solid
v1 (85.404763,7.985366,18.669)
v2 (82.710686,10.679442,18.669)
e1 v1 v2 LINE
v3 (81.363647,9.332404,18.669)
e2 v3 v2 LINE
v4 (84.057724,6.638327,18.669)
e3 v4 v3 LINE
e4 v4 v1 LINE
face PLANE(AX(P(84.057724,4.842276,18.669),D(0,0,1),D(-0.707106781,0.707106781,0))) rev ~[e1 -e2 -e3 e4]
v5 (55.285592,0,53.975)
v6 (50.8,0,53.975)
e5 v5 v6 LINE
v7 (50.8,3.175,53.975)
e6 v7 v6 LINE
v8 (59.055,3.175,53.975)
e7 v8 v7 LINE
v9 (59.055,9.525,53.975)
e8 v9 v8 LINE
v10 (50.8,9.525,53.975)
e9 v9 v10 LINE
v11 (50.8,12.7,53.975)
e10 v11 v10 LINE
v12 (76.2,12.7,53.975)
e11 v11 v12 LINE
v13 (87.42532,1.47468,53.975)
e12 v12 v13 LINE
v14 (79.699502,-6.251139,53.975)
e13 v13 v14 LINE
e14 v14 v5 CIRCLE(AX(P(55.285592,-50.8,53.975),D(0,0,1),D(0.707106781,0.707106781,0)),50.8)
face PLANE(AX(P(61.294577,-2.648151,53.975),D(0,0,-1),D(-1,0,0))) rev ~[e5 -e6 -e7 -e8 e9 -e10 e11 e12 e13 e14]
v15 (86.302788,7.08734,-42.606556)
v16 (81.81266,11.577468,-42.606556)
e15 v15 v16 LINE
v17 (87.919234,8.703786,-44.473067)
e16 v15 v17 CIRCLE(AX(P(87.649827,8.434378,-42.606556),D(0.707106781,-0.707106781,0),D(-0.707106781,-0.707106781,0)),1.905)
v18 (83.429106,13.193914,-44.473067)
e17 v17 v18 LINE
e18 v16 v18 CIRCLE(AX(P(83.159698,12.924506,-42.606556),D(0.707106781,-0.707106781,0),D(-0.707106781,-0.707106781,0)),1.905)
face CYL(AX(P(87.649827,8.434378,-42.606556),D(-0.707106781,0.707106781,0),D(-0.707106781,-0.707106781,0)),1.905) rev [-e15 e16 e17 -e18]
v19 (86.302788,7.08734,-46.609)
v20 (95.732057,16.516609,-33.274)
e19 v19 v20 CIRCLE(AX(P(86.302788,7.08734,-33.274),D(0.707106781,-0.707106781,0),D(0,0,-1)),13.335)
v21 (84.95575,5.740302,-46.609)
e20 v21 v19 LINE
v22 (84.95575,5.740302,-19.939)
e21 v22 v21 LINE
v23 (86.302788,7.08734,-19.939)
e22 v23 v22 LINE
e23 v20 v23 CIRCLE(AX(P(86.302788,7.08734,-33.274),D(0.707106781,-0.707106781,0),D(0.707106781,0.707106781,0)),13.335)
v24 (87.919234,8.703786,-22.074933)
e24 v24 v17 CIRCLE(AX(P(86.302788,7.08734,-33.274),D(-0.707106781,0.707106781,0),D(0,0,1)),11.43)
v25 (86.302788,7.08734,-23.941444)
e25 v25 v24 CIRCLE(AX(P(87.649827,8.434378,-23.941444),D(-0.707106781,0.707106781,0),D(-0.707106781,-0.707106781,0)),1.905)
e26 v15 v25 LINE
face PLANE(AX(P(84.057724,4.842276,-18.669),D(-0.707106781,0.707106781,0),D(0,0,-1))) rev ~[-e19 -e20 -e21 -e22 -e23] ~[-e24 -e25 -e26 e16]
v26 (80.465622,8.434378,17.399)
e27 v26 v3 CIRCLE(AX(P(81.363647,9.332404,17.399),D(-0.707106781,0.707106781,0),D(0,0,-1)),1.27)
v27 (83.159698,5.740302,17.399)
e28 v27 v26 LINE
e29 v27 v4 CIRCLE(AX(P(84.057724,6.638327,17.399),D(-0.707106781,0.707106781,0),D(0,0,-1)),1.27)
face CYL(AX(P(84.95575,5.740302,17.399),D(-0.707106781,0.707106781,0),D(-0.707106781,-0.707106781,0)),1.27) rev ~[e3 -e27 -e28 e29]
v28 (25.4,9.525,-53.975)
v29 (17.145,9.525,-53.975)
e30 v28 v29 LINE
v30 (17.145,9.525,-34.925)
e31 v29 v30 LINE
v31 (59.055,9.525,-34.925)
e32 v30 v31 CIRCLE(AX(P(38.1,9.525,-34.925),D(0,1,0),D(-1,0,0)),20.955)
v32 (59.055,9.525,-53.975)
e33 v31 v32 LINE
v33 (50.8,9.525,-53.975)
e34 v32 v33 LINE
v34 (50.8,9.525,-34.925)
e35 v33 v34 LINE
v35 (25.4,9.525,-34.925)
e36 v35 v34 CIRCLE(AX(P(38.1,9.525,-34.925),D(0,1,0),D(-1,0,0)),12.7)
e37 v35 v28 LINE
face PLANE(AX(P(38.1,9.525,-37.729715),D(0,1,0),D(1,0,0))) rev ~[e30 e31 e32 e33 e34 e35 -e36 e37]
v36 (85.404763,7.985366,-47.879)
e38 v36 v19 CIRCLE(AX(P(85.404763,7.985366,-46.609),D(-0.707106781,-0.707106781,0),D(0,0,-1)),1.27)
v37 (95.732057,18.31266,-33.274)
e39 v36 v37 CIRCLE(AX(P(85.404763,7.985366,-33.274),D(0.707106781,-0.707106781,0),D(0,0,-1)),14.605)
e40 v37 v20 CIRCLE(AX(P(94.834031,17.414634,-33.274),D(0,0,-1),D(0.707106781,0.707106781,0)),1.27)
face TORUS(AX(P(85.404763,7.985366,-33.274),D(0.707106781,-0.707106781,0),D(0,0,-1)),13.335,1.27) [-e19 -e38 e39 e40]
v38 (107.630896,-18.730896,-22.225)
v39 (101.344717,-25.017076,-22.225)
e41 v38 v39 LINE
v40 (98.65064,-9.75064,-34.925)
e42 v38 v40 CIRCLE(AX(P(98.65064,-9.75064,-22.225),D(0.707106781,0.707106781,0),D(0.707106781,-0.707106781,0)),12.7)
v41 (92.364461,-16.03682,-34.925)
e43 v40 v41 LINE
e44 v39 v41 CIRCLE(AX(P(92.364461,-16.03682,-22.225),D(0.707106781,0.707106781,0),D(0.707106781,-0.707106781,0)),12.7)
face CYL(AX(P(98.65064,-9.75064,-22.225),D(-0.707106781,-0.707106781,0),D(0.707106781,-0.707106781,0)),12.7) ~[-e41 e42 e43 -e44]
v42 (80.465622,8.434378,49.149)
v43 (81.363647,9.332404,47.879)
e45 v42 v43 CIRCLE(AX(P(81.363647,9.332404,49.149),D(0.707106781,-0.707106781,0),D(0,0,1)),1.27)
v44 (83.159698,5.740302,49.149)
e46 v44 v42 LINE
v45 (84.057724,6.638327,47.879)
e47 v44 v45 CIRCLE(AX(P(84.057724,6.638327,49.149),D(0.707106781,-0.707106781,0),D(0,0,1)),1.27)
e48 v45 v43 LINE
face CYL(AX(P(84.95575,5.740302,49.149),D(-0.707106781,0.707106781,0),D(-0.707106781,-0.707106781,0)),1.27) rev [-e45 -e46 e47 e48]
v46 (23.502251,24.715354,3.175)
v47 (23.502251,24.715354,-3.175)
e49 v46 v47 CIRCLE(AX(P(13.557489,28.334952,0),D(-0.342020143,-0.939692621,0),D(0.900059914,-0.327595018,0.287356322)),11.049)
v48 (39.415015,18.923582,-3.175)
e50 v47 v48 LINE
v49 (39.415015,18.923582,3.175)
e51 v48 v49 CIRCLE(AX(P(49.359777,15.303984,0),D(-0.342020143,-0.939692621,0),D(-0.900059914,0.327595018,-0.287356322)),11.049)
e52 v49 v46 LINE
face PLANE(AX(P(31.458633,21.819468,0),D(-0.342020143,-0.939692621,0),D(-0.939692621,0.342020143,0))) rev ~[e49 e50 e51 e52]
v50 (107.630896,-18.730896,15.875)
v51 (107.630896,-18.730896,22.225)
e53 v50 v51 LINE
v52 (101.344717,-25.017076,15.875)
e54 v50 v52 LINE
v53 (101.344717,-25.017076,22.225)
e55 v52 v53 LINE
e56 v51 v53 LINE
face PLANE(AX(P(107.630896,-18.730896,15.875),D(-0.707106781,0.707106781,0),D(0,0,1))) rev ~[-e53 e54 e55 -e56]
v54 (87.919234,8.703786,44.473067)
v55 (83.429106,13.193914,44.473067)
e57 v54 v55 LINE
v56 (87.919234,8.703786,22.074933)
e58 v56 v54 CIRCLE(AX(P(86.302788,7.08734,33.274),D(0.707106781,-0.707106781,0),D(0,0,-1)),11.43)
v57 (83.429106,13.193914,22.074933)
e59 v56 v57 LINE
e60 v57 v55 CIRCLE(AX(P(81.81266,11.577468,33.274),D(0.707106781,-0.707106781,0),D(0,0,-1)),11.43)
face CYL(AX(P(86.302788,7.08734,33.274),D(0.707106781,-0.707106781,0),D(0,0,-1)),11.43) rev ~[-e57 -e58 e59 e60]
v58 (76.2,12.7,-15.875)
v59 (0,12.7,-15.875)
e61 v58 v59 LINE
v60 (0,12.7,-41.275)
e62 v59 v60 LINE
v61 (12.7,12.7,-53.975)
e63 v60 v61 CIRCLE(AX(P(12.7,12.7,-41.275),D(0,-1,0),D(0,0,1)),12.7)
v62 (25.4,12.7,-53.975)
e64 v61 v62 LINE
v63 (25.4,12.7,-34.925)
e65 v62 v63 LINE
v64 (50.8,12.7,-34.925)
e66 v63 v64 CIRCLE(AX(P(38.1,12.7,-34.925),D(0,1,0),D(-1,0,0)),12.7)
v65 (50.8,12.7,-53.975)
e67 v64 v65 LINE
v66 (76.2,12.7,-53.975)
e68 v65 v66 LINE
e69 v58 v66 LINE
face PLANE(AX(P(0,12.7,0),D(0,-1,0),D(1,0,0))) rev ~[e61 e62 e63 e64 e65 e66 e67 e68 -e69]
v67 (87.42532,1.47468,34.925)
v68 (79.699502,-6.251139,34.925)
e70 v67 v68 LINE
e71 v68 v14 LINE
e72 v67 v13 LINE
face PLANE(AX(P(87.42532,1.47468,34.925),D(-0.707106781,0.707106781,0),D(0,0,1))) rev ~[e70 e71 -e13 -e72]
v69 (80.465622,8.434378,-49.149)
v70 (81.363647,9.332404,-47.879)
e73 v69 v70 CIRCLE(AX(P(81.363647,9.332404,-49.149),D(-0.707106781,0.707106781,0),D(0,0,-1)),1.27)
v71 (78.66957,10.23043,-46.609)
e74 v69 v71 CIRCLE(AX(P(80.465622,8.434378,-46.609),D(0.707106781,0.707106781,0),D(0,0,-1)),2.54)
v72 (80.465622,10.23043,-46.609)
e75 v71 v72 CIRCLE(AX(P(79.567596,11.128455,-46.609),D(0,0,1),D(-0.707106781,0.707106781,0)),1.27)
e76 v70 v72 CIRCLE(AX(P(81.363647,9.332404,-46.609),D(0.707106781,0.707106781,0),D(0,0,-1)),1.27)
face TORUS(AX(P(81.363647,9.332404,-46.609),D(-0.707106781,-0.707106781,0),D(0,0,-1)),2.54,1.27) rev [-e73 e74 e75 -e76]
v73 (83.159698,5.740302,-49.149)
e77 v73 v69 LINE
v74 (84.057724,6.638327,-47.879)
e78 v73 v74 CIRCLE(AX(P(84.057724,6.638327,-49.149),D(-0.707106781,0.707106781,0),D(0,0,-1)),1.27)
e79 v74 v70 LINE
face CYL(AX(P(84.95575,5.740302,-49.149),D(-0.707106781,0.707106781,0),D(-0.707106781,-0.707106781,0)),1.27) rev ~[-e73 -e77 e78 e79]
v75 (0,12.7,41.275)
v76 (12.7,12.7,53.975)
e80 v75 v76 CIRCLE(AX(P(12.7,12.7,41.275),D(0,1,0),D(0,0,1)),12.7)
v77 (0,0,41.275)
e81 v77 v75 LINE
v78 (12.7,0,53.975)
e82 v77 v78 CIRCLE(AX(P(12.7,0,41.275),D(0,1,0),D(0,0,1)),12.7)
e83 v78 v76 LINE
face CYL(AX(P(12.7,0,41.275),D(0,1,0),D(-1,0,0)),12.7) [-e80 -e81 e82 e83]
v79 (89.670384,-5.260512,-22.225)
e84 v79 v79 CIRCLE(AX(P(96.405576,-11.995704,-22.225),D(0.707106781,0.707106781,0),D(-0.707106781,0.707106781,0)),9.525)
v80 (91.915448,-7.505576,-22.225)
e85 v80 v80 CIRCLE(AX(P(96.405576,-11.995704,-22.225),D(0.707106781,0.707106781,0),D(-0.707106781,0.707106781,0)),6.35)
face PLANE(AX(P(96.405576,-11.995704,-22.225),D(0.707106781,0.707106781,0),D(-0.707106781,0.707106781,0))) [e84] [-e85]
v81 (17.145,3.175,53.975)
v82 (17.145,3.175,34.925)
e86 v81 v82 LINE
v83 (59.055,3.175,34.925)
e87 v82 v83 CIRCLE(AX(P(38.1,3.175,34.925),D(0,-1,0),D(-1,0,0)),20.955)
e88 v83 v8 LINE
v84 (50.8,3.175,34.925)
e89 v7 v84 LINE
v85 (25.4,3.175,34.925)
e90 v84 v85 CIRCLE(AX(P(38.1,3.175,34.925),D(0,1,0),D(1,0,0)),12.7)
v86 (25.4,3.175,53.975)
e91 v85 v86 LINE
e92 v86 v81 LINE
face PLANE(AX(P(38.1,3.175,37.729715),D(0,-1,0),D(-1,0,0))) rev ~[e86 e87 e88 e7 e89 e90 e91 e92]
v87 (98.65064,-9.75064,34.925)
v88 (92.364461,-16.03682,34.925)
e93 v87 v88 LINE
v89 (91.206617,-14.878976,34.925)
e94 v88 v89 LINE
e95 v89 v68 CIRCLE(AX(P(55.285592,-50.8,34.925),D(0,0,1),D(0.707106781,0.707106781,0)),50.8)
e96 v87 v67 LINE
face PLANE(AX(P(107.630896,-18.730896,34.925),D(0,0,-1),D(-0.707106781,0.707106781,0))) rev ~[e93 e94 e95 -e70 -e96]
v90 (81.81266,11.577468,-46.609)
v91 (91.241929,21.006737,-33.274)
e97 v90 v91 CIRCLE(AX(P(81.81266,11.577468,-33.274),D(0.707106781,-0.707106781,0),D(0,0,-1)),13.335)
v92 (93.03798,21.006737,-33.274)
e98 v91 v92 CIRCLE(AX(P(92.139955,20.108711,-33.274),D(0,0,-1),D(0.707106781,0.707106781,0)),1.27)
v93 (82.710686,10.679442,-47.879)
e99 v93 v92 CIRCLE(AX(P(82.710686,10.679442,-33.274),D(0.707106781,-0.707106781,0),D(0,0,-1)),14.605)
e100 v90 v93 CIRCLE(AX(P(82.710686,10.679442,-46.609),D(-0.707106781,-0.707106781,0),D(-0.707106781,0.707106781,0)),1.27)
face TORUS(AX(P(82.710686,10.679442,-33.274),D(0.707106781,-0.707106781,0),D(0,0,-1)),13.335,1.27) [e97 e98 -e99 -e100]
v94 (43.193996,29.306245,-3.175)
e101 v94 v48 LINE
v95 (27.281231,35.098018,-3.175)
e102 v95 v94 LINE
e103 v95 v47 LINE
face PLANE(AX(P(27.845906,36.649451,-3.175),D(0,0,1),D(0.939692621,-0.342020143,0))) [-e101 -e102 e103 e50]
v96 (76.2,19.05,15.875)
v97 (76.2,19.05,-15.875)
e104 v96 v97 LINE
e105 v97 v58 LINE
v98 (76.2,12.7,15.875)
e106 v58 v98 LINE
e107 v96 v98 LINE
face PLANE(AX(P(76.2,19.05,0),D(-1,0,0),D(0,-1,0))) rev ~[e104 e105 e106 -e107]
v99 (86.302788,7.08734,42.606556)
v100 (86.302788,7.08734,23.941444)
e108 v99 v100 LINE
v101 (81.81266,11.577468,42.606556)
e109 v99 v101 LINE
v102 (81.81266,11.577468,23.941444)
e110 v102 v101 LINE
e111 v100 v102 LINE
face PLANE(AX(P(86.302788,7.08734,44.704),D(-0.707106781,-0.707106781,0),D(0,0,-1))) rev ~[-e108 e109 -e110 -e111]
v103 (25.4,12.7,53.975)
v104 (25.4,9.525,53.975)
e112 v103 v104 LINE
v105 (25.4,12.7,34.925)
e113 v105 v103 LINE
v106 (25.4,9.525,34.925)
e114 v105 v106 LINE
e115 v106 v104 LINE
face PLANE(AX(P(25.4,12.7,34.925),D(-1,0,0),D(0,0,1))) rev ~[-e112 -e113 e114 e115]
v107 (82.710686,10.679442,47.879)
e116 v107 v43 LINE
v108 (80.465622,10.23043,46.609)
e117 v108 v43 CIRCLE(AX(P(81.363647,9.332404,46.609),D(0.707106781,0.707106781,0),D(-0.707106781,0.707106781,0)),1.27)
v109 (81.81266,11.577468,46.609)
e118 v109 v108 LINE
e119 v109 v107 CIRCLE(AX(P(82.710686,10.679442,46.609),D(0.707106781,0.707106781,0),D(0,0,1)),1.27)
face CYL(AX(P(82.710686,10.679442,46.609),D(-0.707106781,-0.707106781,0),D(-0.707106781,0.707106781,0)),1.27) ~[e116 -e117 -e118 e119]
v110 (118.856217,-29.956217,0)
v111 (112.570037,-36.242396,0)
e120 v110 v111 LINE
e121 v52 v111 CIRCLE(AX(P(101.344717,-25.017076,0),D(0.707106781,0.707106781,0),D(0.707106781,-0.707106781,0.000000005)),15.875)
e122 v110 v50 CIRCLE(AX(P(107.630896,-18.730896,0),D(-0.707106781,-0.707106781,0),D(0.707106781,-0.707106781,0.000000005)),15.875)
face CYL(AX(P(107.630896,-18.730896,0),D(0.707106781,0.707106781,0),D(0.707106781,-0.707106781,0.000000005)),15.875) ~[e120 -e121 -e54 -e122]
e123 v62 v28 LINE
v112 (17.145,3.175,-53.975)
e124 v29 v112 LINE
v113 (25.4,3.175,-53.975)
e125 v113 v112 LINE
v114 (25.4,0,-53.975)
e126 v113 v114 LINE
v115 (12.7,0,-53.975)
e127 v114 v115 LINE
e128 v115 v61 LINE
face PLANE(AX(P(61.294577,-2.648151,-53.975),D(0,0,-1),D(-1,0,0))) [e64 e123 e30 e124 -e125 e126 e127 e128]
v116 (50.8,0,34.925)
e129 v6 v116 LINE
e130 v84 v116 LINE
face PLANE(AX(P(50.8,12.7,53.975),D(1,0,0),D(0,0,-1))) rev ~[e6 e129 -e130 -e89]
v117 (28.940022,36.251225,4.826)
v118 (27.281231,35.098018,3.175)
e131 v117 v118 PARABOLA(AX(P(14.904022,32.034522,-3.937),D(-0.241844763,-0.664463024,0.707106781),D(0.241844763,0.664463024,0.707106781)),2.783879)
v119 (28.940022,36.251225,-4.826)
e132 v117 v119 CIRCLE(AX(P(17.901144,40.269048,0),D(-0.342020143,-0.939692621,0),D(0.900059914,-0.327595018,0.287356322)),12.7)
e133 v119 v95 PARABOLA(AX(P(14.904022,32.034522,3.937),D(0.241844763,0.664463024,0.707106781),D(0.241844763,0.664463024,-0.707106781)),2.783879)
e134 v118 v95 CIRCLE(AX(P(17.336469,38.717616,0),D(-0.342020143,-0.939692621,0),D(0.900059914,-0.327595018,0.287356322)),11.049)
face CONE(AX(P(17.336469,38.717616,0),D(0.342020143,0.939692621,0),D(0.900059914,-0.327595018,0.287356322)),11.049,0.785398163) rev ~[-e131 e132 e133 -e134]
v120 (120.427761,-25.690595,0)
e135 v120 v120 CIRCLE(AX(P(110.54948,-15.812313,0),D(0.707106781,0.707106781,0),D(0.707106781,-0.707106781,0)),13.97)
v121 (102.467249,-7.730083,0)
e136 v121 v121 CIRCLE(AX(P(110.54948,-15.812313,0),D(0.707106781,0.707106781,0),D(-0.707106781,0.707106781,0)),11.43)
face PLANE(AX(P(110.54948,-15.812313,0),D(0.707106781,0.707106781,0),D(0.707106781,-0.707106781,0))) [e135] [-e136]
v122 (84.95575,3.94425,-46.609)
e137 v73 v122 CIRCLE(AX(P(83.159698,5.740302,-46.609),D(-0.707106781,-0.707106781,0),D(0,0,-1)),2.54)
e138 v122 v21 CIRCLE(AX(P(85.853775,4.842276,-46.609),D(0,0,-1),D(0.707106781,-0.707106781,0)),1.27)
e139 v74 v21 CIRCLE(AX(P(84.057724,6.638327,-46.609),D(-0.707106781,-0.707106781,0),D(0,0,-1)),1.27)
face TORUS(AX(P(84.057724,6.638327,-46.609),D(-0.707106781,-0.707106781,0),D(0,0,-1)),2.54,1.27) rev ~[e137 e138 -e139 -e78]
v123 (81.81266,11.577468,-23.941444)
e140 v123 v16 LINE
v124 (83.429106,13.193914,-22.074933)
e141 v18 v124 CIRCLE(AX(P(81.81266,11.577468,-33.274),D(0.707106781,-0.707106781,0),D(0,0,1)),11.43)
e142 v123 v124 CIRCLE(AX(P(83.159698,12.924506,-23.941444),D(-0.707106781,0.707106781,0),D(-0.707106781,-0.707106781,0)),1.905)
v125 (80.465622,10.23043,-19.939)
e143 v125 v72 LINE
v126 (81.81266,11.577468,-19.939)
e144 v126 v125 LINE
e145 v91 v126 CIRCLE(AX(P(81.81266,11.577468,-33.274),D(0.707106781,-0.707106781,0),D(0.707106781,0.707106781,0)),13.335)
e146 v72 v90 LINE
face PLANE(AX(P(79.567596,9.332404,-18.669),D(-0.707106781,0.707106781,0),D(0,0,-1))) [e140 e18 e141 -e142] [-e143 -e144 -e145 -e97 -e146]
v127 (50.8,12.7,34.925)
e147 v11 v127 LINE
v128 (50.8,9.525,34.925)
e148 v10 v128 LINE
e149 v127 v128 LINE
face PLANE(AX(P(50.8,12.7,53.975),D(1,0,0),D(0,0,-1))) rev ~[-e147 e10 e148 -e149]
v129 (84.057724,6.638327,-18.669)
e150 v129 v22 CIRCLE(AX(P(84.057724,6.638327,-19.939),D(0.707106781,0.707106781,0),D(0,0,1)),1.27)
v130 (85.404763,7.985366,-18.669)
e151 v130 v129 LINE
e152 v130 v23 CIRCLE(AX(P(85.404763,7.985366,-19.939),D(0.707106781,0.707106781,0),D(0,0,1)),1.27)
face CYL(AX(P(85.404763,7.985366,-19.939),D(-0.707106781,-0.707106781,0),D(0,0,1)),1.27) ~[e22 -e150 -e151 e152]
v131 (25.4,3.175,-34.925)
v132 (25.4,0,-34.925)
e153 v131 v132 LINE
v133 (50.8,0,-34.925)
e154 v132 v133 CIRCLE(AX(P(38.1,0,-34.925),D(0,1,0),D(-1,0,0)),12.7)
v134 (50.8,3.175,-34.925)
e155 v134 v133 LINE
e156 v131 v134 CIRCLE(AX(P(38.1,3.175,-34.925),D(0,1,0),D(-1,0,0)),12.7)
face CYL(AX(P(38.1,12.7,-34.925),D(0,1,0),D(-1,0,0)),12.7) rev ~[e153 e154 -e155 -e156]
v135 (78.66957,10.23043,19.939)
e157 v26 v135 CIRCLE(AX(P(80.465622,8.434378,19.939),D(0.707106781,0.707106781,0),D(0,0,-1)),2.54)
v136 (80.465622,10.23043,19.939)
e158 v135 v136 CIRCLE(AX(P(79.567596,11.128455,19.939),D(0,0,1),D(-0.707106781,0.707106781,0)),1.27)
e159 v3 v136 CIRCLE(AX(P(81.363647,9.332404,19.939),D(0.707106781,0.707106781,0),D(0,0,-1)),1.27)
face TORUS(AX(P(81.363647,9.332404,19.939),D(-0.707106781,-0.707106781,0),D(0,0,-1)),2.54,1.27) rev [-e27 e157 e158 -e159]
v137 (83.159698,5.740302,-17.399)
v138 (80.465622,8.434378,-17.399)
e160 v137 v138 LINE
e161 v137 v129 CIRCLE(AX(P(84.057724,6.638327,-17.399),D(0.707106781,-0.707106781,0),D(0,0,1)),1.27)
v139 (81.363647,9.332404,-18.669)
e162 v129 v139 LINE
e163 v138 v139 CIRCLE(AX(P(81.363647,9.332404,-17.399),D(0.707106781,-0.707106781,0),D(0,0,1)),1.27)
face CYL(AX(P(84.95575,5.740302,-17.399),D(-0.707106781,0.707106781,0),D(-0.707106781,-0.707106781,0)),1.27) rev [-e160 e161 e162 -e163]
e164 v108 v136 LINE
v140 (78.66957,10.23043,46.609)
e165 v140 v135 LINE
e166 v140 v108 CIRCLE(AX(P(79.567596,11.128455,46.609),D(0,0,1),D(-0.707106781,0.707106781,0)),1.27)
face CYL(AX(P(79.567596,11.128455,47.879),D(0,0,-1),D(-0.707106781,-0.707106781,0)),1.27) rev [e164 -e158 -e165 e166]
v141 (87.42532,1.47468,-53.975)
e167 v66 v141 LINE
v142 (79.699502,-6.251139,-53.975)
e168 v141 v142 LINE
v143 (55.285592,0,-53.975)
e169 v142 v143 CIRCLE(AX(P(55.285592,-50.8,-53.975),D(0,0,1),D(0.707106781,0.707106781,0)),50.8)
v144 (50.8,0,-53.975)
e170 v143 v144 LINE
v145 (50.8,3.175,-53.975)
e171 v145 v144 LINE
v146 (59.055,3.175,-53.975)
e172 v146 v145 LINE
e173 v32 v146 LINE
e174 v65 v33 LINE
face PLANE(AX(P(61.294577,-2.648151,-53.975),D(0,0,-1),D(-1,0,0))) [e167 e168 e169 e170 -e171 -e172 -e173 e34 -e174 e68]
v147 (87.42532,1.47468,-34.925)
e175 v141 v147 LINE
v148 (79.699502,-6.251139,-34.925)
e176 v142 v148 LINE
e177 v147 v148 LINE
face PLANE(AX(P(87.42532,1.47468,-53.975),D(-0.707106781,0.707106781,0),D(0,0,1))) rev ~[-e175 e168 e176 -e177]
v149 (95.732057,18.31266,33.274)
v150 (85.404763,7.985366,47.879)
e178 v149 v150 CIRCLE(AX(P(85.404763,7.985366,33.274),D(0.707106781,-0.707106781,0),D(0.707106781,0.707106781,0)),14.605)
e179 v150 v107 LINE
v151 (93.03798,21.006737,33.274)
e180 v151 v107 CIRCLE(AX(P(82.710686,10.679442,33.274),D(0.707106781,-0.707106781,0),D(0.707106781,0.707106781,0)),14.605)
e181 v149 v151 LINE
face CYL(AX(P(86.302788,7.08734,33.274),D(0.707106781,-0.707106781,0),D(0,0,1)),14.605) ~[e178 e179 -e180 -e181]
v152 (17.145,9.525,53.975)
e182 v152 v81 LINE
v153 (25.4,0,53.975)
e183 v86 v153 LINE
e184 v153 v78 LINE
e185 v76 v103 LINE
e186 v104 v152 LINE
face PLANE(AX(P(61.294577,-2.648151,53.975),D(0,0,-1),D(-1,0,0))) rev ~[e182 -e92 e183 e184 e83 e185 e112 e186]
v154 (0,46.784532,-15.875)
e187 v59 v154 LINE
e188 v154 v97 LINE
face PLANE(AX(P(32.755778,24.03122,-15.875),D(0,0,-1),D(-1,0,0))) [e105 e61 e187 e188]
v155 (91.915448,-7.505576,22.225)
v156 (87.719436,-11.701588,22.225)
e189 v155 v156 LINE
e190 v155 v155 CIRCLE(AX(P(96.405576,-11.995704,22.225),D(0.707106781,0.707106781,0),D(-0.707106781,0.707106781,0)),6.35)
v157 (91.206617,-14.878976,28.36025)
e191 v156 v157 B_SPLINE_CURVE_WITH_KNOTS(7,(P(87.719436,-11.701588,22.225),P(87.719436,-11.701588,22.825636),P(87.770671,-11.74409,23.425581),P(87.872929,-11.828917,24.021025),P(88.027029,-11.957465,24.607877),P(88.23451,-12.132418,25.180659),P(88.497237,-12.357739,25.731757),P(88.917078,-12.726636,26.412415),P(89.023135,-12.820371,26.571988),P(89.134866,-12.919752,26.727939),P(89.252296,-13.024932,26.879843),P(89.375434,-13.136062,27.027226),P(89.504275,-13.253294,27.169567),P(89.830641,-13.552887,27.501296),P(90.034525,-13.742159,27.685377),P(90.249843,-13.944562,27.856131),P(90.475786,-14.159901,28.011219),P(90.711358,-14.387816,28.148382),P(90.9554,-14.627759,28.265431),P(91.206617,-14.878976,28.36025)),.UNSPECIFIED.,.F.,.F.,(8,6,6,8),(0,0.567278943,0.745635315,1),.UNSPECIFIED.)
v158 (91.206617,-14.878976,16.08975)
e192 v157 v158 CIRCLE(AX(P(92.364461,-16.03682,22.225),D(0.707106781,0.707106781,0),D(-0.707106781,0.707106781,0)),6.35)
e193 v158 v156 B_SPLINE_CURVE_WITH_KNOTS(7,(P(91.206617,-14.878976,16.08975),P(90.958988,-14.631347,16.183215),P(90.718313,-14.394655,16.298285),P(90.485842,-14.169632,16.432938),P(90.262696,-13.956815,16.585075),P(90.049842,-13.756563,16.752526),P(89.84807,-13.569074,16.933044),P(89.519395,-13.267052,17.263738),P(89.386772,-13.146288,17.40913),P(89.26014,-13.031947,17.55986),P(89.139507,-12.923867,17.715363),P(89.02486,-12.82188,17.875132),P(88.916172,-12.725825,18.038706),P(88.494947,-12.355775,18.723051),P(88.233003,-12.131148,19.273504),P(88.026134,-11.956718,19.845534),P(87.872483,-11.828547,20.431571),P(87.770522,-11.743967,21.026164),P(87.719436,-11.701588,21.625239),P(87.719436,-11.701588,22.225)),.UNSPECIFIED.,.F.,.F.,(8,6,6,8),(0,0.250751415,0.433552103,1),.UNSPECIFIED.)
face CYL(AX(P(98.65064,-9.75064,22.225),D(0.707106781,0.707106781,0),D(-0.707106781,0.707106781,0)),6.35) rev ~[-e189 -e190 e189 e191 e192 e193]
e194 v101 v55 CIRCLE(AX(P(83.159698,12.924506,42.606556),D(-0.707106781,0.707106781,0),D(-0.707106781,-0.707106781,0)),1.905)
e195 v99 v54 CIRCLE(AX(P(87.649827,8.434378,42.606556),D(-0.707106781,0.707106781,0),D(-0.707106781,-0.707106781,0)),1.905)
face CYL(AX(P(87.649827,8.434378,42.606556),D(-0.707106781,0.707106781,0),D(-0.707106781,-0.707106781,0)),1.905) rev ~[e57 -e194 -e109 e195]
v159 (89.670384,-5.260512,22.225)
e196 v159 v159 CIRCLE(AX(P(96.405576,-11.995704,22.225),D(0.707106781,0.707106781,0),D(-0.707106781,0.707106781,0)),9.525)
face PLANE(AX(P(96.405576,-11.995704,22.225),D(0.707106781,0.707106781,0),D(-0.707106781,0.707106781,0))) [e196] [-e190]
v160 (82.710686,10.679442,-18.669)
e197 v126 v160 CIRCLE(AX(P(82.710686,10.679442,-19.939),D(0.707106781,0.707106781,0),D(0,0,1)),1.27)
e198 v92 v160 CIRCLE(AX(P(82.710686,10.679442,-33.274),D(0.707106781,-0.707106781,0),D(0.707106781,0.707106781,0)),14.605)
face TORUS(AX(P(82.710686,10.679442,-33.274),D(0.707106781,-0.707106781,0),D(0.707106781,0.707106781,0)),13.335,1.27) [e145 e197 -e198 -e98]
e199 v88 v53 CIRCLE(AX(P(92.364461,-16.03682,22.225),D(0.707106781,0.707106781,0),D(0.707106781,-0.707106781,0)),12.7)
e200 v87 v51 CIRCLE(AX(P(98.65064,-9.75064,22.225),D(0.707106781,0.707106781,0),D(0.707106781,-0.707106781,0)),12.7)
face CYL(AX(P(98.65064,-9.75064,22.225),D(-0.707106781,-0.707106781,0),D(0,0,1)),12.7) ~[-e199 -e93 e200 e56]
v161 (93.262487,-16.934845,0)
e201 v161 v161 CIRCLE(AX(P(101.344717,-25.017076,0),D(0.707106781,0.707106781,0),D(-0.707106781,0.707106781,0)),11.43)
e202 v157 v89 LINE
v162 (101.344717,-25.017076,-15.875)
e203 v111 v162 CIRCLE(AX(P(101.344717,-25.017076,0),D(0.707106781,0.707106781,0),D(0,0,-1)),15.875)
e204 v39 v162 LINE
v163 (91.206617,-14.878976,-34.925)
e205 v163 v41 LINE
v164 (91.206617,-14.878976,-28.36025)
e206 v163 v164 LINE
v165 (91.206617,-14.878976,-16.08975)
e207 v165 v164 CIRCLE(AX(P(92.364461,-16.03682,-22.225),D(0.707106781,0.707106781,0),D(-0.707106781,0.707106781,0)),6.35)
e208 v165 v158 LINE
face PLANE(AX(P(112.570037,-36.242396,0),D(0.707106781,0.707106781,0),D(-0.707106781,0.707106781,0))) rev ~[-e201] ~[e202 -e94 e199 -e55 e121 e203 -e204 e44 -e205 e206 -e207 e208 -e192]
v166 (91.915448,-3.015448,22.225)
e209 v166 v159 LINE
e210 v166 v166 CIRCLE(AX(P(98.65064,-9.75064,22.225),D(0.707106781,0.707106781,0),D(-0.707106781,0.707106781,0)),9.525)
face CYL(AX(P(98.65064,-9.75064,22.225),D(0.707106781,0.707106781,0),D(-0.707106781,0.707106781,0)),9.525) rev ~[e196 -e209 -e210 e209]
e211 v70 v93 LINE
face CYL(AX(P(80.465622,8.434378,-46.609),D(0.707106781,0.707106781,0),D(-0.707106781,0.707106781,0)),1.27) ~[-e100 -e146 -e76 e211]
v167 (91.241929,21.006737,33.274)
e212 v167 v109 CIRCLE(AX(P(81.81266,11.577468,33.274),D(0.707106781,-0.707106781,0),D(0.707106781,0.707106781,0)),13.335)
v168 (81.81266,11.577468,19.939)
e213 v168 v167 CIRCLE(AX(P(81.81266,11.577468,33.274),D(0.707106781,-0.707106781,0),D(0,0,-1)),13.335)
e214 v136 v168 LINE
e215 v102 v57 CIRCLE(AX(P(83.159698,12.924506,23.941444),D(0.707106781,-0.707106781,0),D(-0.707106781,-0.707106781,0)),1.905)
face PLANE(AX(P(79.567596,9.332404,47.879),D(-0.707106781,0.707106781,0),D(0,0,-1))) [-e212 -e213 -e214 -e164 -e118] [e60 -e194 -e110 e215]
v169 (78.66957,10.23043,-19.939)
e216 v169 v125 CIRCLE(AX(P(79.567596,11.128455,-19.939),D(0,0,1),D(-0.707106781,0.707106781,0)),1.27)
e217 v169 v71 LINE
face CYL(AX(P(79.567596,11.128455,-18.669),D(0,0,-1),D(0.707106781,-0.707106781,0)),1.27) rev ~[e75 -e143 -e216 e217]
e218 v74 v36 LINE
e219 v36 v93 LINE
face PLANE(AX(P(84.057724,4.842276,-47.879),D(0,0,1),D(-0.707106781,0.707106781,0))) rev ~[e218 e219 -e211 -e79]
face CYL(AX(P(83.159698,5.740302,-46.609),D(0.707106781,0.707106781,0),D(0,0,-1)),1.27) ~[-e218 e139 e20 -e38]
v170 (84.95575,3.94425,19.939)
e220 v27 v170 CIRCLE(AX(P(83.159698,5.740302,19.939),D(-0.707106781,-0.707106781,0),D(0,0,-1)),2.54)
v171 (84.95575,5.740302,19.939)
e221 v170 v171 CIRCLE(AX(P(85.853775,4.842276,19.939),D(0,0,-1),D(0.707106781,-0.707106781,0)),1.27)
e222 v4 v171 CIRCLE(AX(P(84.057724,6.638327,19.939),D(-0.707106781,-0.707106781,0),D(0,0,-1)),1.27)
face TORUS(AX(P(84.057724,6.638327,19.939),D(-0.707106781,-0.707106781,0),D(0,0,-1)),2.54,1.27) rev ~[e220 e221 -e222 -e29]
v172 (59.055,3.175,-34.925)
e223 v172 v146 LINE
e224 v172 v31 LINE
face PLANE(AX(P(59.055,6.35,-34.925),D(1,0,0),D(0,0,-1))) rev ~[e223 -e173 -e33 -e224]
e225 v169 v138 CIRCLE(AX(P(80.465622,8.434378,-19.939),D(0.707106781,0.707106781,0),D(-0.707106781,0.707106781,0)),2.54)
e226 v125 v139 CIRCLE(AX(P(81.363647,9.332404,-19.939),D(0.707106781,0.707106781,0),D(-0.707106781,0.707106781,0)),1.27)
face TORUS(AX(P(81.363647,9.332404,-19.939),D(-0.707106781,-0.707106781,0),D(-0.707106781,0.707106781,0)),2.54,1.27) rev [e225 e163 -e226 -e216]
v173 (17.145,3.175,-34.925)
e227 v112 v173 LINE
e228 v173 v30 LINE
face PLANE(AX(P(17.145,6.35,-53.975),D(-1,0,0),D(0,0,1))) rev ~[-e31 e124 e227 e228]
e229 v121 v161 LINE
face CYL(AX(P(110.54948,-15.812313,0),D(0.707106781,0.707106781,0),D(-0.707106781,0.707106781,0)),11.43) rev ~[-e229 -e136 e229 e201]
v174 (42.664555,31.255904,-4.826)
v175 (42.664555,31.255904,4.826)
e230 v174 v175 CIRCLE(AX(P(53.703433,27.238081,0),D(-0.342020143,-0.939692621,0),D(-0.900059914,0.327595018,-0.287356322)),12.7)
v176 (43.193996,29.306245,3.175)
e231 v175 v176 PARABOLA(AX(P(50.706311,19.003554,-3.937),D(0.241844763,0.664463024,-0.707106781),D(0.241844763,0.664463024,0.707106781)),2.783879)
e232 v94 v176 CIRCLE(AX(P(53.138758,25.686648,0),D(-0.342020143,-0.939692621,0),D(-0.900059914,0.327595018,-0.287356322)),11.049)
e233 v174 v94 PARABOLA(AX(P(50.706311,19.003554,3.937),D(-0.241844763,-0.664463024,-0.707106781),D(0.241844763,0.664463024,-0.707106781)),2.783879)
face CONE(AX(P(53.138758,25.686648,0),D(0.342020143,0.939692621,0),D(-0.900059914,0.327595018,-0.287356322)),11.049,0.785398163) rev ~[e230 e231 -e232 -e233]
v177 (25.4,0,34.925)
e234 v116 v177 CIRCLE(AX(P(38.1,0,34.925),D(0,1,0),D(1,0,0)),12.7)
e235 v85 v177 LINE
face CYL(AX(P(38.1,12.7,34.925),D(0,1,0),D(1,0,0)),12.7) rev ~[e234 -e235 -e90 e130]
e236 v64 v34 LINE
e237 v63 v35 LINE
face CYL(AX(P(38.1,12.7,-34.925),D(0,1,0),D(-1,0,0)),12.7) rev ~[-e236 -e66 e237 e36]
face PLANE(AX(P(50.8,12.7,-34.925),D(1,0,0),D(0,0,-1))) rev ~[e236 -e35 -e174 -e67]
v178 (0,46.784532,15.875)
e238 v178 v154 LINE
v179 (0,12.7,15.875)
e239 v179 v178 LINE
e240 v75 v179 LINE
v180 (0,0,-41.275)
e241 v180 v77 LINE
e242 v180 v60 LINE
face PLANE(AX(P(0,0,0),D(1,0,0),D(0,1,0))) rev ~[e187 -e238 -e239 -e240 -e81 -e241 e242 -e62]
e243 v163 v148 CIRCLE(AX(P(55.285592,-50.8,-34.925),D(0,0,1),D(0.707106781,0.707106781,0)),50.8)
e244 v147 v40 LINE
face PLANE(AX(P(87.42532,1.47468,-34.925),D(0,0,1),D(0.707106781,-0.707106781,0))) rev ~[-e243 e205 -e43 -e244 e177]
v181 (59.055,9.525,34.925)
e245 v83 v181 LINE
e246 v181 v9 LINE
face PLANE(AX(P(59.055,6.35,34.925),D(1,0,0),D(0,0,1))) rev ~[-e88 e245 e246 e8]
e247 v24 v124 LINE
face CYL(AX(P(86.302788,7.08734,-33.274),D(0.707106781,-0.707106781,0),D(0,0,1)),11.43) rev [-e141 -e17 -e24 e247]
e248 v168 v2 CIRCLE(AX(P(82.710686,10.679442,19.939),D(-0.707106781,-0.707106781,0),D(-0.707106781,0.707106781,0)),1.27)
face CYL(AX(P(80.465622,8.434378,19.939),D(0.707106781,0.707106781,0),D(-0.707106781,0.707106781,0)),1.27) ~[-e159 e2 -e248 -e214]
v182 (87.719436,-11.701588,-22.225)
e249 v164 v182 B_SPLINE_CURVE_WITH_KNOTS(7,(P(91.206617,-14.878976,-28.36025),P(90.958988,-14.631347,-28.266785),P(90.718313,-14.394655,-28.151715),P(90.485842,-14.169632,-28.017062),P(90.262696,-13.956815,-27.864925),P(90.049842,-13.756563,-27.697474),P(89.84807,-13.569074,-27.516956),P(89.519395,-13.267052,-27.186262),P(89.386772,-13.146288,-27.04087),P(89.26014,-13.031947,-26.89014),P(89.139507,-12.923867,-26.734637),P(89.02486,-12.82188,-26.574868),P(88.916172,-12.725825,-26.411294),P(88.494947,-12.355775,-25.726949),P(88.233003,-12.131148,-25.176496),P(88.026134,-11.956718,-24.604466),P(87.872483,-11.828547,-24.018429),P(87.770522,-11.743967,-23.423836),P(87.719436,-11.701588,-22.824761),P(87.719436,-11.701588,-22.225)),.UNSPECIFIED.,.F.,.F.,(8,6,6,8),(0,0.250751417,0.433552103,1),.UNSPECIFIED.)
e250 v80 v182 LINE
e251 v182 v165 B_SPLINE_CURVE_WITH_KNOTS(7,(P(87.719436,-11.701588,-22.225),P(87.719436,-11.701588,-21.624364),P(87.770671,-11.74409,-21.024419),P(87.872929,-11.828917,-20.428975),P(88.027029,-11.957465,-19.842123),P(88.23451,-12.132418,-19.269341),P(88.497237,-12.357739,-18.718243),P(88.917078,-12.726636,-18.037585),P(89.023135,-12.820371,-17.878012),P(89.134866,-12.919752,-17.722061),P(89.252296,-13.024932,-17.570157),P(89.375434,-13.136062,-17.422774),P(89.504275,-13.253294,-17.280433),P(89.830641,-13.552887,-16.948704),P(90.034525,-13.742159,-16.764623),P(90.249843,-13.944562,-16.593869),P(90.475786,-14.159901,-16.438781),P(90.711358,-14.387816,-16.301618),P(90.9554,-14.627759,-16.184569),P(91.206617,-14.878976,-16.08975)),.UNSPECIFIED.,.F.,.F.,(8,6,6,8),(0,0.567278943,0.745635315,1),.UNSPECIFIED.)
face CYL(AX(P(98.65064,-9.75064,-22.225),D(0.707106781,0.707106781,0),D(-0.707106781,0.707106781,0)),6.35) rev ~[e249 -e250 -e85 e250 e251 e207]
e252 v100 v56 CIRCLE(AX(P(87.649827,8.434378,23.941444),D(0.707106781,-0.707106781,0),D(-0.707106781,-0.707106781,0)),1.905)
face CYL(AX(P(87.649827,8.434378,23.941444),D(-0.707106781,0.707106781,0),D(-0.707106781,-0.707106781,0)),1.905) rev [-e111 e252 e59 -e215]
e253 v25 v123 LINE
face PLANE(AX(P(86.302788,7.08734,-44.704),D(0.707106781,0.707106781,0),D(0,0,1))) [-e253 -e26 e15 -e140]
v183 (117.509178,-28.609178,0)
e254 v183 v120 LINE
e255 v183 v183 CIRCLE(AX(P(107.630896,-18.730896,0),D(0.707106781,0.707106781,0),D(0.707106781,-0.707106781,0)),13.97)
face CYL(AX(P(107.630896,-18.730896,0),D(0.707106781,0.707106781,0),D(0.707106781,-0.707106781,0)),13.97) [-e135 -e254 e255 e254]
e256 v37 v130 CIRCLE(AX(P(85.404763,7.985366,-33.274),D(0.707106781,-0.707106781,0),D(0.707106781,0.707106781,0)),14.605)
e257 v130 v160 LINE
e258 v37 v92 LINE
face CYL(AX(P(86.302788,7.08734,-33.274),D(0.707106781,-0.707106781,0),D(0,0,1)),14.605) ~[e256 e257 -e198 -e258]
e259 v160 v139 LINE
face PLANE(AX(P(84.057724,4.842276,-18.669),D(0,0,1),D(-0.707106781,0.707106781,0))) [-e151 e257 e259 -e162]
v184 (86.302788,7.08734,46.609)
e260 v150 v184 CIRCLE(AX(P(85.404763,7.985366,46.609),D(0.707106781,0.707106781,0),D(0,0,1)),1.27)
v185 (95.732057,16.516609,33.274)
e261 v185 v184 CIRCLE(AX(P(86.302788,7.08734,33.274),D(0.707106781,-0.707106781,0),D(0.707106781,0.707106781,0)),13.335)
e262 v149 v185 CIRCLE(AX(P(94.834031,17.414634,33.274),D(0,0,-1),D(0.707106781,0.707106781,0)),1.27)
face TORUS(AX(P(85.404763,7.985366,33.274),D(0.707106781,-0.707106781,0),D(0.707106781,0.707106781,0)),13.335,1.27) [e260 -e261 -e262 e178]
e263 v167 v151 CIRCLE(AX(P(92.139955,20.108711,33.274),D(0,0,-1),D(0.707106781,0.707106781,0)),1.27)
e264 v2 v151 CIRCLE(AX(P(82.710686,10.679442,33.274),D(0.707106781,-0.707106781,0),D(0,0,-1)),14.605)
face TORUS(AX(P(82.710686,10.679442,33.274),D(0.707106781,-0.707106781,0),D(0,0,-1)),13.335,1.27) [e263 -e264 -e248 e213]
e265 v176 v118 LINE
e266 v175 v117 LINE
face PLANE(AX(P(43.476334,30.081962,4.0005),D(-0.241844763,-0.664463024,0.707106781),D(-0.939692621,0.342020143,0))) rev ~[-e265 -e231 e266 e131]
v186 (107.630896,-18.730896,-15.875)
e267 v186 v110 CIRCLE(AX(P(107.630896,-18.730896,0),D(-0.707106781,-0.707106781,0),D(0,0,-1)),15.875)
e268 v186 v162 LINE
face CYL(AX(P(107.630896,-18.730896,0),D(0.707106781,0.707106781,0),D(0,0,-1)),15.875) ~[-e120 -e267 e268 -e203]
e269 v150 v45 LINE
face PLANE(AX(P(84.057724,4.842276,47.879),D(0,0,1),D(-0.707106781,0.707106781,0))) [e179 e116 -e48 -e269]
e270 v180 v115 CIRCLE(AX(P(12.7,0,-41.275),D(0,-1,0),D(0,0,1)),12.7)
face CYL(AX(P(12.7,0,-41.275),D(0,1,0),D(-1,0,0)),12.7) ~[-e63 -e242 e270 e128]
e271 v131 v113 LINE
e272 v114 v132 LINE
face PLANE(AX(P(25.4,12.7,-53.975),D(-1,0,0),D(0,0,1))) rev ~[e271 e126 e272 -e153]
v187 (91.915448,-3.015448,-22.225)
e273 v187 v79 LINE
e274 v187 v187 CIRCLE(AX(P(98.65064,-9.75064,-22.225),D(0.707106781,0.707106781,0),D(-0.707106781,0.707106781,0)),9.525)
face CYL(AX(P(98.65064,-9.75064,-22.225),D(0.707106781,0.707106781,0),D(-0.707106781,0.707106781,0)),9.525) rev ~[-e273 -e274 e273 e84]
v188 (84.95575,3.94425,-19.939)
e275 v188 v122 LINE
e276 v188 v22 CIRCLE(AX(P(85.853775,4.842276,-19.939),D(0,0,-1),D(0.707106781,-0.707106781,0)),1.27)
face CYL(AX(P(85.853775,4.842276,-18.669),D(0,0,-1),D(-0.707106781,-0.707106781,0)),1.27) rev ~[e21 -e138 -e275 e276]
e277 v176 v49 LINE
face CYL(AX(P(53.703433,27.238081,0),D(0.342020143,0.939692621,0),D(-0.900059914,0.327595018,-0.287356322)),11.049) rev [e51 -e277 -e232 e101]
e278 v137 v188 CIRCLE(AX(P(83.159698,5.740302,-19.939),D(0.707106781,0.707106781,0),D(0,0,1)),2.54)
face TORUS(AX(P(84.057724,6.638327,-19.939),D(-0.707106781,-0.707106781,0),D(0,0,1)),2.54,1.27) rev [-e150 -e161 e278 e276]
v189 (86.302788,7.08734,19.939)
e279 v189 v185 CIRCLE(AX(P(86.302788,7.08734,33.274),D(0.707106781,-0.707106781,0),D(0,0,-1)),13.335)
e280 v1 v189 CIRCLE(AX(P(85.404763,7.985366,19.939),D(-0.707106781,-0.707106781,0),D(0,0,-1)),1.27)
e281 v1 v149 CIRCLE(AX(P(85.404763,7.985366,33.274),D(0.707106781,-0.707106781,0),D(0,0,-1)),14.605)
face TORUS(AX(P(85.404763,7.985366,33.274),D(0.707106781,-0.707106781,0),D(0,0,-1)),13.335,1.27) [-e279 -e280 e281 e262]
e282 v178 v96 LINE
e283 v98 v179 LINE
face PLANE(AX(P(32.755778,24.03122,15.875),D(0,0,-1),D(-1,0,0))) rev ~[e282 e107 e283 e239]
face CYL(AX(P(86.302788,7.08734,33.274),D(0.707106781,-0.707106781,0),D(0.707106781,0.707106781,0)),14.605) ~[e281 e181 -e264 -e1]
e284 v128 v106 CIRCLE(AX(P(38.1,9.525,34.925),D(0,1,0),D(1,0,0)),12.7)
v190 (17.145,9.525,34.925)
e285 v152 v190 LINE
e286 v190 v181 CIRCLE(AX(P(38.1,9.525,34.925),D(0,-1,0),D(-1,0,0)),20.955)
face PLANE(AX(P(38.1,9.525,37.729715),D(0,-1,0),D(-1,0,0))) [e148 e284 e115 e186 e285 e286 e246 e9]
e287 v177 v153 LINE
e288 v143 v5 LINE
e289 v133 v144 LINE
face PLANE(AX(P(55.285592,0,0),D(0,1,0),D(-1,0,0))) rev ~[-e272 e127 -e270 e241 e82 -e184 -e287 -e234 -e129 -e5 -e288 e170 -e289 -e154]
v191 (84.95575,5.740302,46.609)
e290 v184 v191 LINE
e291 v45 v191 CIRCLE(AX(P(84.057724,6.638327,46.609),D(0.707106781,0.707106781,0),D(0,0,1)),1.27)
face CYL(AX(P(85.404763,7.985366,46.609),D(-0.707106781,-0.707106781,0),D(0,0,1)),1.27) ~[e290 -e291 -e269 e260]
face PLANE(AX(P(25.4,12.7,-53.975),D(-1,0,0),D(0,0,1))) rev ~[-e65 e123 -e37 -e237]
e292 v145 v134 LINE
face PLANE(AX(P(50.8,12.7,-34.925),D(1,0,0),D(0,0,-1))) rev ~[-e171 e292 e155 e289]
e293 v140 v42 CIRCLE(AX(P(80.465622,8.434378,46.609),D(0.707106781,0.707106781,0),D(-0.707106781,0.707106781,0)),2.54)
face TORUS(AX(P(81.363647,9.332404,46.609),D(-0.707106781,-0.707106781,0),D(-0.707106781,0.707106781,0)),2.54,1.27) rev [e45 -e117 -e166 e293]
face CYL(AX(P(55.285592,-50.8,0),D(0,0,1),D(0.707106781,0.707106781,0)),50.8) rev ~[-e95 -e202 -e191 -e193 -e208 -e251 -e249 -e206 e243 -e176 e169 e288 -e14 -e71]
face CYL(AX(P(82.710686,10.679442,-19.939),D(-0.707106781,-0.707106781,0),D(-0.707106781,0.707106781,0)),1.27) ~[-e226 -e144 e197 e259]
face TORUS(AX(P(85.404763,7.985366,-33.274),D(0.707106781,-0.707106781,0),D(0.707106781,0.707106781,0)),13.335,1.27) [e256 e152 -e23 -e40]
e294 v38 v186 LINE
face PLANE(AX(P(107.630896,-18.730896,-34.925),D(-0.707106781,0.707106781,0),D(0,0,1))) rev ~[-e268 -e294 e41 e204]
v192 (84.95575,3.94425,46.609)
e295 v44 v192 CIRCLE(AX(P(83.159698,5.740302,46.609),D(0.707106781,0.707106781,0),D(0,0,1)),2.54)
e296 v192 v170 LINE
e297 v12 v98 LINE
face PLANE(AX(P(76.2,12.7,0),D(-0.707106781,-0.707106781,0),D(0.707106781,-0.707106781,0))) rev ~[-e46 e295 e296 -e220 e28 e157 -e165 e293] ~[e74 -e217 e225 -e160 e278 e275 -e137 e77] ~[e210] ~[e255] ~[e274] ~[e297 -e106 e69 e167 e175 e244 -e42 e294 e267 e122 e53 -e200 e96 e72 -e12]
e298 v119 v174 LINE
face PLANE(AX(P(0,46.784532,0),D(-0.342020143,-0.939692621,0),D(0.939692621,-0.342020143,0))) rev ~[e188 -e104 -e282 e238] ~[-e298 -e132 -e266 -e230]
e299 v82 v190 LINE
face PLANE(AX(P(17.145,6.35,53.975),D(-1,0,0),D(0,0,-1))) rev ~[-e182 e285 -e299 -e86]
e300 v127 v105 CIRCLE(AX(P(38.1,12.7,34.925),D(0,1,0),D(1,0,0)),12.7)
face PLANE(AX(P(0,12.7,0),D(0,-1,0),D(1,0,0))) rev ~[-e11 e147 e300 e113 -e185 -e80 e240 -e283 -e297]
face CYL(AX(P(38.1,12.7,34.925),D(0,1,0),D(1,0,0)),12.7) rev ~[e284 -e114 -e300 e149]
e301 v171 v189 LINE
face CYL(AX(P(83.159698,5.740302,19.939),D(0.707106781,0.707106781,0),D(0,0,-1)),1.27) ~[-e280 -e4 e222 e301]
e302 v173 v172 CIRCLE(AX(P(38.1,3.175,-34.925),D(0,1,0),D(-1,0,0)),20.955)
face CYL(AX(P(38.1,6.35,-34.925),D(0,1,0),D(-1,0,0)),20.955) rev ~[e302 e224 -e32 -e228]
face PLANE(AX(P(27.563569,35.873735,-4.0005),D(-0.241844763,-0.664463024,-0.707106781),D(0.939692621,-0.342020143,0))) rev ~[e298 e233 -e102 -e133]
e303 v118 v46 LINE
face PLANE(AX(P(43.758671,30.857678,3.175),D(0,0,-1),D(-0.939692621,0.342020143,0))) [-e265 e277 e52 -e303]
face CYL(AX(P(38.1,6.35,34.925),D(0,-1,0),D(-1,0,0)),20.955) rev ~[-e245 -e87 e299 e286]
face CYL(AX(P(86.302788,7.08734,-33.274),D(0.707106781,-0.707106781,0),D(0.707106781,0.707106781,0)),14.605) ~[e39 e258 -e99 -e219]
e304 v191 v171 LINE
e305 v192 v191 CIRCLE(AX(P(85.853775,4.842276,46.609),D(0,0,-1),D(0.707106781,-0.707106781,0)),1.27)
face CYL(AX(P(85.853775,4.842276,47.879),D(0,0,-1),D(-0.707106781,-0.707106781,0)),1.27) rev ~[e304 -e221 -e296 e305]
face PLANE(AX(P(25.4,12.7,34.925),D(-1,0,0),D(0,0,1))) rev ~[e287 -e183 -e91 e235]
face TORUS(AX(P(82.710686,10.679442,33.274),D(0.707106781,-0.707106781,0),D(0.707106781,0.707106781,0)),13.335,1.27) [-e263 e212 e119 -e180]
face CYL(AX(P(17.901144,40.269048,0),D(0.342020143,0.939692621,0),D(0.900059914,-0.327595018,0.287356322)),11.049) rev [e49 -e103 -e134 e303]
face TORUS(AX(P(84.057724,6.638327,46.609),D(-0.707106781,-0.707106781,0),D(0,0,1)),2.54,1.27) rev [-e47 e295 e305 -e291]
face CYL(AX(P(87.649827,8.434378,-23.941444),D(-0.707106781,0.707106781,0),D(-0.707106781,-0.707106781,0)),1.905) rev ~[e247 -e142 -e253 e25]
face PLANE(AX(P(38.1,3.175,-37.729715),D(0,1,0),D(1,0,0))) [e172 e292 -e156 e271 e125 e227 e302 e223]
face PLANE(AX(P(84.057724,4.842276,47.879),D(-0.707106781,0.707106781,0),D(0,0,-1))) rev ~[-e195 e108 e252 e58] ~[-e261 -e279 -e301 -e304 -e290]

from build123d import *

# Parameters (mm, degrees)
BOSS_EXTRUDE1_DEPTH = 53.975
CUT_EXTRUDE1_DEPTH  = 140.411114894
CUT_EXTRUDE2_DEPTH  = 3.175
BOSS_EXTRUDE2_DEPTH = 15.875
CUT_EXTRUDE3_DEPTH  = 12.7
CHAMFER1_SIZE       = 1.651
CUT_EXTRUDE4_DEPTH  = 12.7
FILLET1_R           = 12.7
SKETCH9_R           = 6.35
CUT_EXTRUDE5_DEPTH  = 12.7
SKETCH10_R          = 9.525
CUT_EXTRUDE6_DEPTH  = 3.175
SKETCH11_R          = 13.97
BOSS_EXTRUDE3_DEPTH = 4.1275
SKETCH12_R          = 11.43
CUT_EXTRUDE7_DEPTH  = 124.457441957
SKETCH13_W          = 29.21
SKETCH13_H          = 6.35
BOSS_EXTRUDE4_DEPTH = 17.78
CUT_EXTRUDE8_DEPTH  = 131.033845412
FILLET3_R           = 1.905
FILLET4_R           = 1.27


with BuildPart() as part:
    # Sketch1 → Boss-Extrude1 (new, symmetric)
    with BuildSketch(Plane.XY):
        with BuildLine():
            Line((0, 0), (0, 12.7))
            Line((0, 12.7), (76.2, 12.7))
            Line((76.2, 12.7), (118.856216575, -29.956216575))
            Line((118.856216575, -29.956216575), (112.57003729, -36.24239586))
            Line((112.57003729, -36.24239586), (91.206616946, -14.878975516))
            ThreePointArc((91.206616946, -14.878975516), (74.725910826, -3.866919748), (55.285592462, 0))
            Line((55.285592462, 0), (0, 0))
        make_face()
    extrude(amount=BOSS_EXTRUDE1_DEPTH, both=True)

    # Sketch2 → Cut-Extrude1 (cut, through all)
    with BuildSketch(Plane(origin=(0, 12.7, 0), x_dir=(1, 0, 0), z_dir=(0, 1, 0))):
        with BuildLine():
            Line((25.4, 53.975), (25.4, 34.925))
            ThreePointArc((25.4, 34.925), (38.1, 22.225), (50.8, 34.925))
            Line((50.8, 34.925), (50.8, 53.975))
            Line((50.8, 53.975), (25.4, 53.975))
        make_face()
        with BuildLine():
            Line((25.4, -53.975), (50.8, -53.975))
            Line((50.8, -53.975), (50.8, -34.925))
            ThreePointArc((50.8, -34.925), (38.1, -22.225), (25.4, -34.925))
            Line((25.4, -34.925), (25.4, -53.975))
        make_face()
    extrude(amount=-CUT_EXTRUDE1_DEPTH, mode=Mode.SUBTRACT)

    # Sketch4 → Cut-Extrude2 (cut, symmetric)
    with BuildSketch(Plane(origin=(0, 6.35, 0), x_dir=(1, 0, 0), z_dir=(0, 1, 0))):
        with BuildLine():
            Line((59.055, -34.925), (59.055, -53.975))
            Line((59.055, -53.975), (17.145, -53.975))
            Line((17.145, -53.975), (17.145, -34.925))
            ThreePointArc((17.145, -34.925), (38.1, -13.97), (59.055, -34.925))
        make_face()
        with BuildLine():
            Line((17.145, 53.975), (17.145, 34.925))
            ThreePointArc((17.145, 34.925), (38.1, 13.97), (59.055, 34.925))
            Line((59.055, 34.925), (59.055, 53.975))
            Line((59.055, 53.975), (17.145, 53.975))
        make_face()
    extrude(amount=CUT_EXTRUDE2_DEPTH, both=True, mode=Mode.SUBTRACT)

    # Sketch5 → Boss-Extrude2 (add, symmetric)
    with BuildSketch(Plane.XY):
        Polygon((0, 12.7), (0, 46.784531851), (76.2, 19.05), (76.2, 12.7), align=None)
    extrude(amount=BOSS_EXTRUDE2_DEPTH, both=True)

    # Sketch6 → Cut-Extrude3 (cut)
    with BuildSketch(Plane(origin=(15.036258699, 41.31178125, 0), x_dir=(0.9396926207859106, -0.3420201433256628, 0), z_dir=(0.3420201433256627, 0.9396926207859105, 0))):
        with BuildLine():
            Line((13.631742372, 3.175), (30.56575305, 3.175))
            ThreePointArc((30.56575305, 3.175), (52.197747711, 0), (30.56575305, -3.175))
            Line((30.56575305, -3.175), (13.631742372, -3.175))
            ThreePointArc((13.631742372, -3.175), (-8.000252289, 0), (13.631742372, 3.175))
        make_face()
    extrude(amount=-CUT_EXTRUDE3_DEPTH, mode=Mode.SUBTRACT)

    # Chamfer1
    chamfer1_edges = [part.edges().sort_by_distance(p)[0] for p in [
        (7.518480659, 44.048028684, 0),
        (35.802288852, 33.75356439, 3.175),
        (64.086097045, 23.459100096, 0),
        (35.802288852, 33.75356439, -3.175),
    ]]
    chamfer(chamfer1_edges, length=CHAMFER1_SIZE)

    # Sketch7 → Cut-Extrude4 (cut)
    with BuildSketch(Plane(origin=(44.45, 44.45, 0), x_dir=(0, 0, -1), z_dir=(0.7071067811865483, 0.7071067811865468, 0))):
        with BuildLine():
            Line((-34.925, -60.776280605), (-53.975, -60.776280605))
            Line((-53.975, -60.776280605), (-53.975, -105.226280605))
            Line((-53.975, -105.226280605), (-8.3e-08, -105.226280605))
            ThreePointArc((-8.3e-08, -105.226280605), (-11.225320181, -100.576600727), (-15.875, -89.351280605))
            Line((-15.875, -89.351280605), (-34.925, -89.351280605))
            Line((-34.925, -89.351280605), (-34.925, -60.776280605))
        make_face()
        with BuildLine():
            ThreePointArc((15.875, -89.351280605), (11.225320122, -100.576600786), (-8.3e-08, -105.226280605))
            Line((-8.3e-08, -105.226280605), (53.975, -105.226280605))
            Line((53.975, -105.226280605), (53.975, -60.776280605))
            Line((53.975, -60.776280605), (34.925, -60.776280605))
            Line((34.925, -60.776280605), (34.925, -89.351280605))
            Line((34.925, -89.351280605), (15.875, -89.351280605))
        make_face()
    extrude(amount=-CUT_EXTRUDE4_DEPTH, mode=Mode.SUBTRACT)

    # Fillet1
    fillet1_edges = [part.edges().sort_by_distance(p)[0] for p in [
        (104.487806781, -21.873986066, 34.925),
        (104.487806781, -21.873986066, -34.925),
        (0, 6.35, 53.975),
        (0, 6.35, -53.975),
    ]]
    fillet(fillet1_edges, radius=FILLET1_R)

    # Sketch9 → Cut-Extrude5 (cut)
    with BuildSketch(Plane(origin=(44.45, 44.45, 0), x_dir=(0, 0, -1), z_dir=(0.7071067811865482, 0.7071067811865468, 0))):
        with Locations(Location((-22.225, -76.651280605, 0), (0, 0, 90))):
            Circle(SKETCH9_R)
        with Locations(Location((22.225, -76.651280605, 0), (0, 0, 90))):
            Circle(SKETCH9_R)
    extrude(amount=-CUT_EXTRUDE5_DEPTH, mode=Mode.SUBTRACT)

    # Sketch10 → Cut-Extrude6 (cut)
    with BuildSketch(Plane(origin=(44.45, 44.45, 0), x_dir=(0, 0, -1), z_dir=(0.7071067811865482, 0.7071067811865468, 0))):
        with Locations(Location((-22.225, -76.651280605, 0), (0, 0, 90))):
            Circle(SKETCH10_R)
        with Locations(Location((22.225, -76.651280605, 0), (0, 0, 90))):
            Circle(SKETCH10_R)
    extrude(amount=-CUT_EXTRUDE6_DEPTH, mode=Mode.SUBTRACT)

    # Sketch11 → Boss-Extrude3 (add, symmetric)
    with BuildSketch(Plane(origin=(44.45, 44.45, 0), x_dir=(0, 0, -1), z_dir=(0.7071067811865482, 0.7071067811865468, 0))):
        with Locations(Location((0, -89.351280605, 0), (0, 0, 270))):
            Circle(SKETCH11_R)
    extrude(amount=BOSS_EXTRUDE3_DEPTH, both=True)

    # Sketch12 → Cut-Extrude7 (cut, through all)
    with BuildSketch(Plane(origin=(47.368583239, 47.368583239, 0), x_dir=(0, 0, -1), z_dir=(0.7071067811865483, 0.7071067811865468, 0))):
        with Locations(Location((0, -89.351280605, 0), (0, 0, 90))):
            Circle(SKETCH12_R)
    extrude(amount=-CUT_EXTRUDE7_DEPTH, mode=Mode.SUBTRACT)

    # Sketch13 → Boss-Extrude4 (add)
    with BuildSketch(Plane(origin=(44.45, 44.45, 0), x_dir=(0, 0, -1), z_dir=(0.7071067811865482, 0.7071067811865468, 0))):
        with Locations((-33.274, -52.838780605)):
            Rectangle(SKETCH13_W, SKETCH13_H)
        with Locations((33.274, -52.838780605)):
            Rectangle(SKETCH13_W, SKETCH13_H)
    extrude(amount=BOSS_EXTRUDE4_DEPTH)

    # Sketch14 → Cut-Extrude8 (cut, through all)
    with BuildSketch(Plane(origin=(39.607724106, -39.607724106, 0), x_dir=(0, 0, -1), z_dir=(0.7071067811865468, -0.7071067811865483, 0))):
        with BuildLine():
            ThreePointArc((-33.274, 80.641792847), (-22.946705461, 76.364087387), (-18.669, 66.036792847))
            Line((-18.669, 66.036792847), (-18.669, 80.641792847))
            Line((-18.669, 80.641792847), (-33.274, 80.641792847))
        make_face()
        with BuildLine():
            Line((-47.879, 80.641792847), (-47.879, 66.036792847))
            ThreePointArc((-47.879, 66.036792847), (-43.601294539, 76.364087387), (-33.274, 80.641792847))
            Line((-33.274, 80.641792847), (-47.879, 80.641792847))
        make_face()
        with BuildLine():
            Line((-44.704, 66.036792847), (-21.844, 66.036792847))
            ThreePointArc((-21.844, 66.036792847), (-33.274, 77.466792847), (-44.704, 66.036792847))
        make_face()
        with BuildLine():
            Line((18.669, 80.641792847), (18.669, 66.036792847))
            ThreePointArc((18.669, 66.036792847), (22.946705461, 76.364087387), (33.274, 80.641792847))
            Line((33.274, 80.641792847), (18.669, 80.641792847))
        make_face()
        with BuildLine():
            Line((47.879, 80.641792847), (33.274, 80.641792847))
            ThreePointArc((33.274, 80.641792847), (43.601294539, 76.364087387), (47.879, 66.036792847))
            Line((47.879, 66.036792847), (47.879, 80.641792847))
        make_face()
        with BuildLine():
            ThreePointArc((21.844, 66.036792847), (33.274, 77.466792847), (44.704, 66.036792847))
            Line((44.704, 66.036792847), (21.844, 66.036792847))
        make_face()
    extrude(amount=-CUT_EXTRUDE8_DEPTH, mode=Mode.SUBTRACT)

    # Fillet3
    fillet3_edges = [part.edges().sort_by_distance(p)[0] for p in [
        (84.057724106, 9.332403955, -21.844),
        (84.057724106, 9.332403955, -44.704),
        (84.057724106, 9.332403955, 21.844),
        (84.057724106, 9.332403955, 44.704),
    ]]
    fillet(fillet3_edges, radius=FILLET3_R)

    # Fillet4
    fillet4_edges = [part.edges().sort_by_distance(p)[0] for p in [
        (81.812660076, 7.087339924, 18.669),
        (79.567596045, 9.332403955, 33.274),
        (81.812660076, 7.087339924, 47.879),
        (84.057724106, 4.842275894, 33.274),
        (81.812660076, 7.087339924, -47.879),
        (79.567596045, 9.332403955, -33.274),
        (81.812660076, 7.087339924, -18.669),
        (84.057724106, 4.842275894, -33.274),
        (85.180256121, 5.964807909, 18.669),
        (80.690128061, 10.45493597, 18.669),
        (85.180256121, 5.964807909, -47.879),
        (80.690128061, 10.45493597, -47.879),
        (96.630082675, 17.414634464, 33.274),
        (92.139954615, 21.904762524, 33.274),
        (92.139954615, 21.904762524, -33.274),
        (96.630082675, 17.414634464, -33.274),
        (85.180256121, 5.964807909, 47.879),
        (80.690128061, 10.45493597, 47.879),
        (85.180256121, 5.964807909, -18.669),
        (80.690128061, 10.45493597, -18.669),
    ]]
    fillet(fillet4_edges, radius=FILLET4_R)


solid = part.part
